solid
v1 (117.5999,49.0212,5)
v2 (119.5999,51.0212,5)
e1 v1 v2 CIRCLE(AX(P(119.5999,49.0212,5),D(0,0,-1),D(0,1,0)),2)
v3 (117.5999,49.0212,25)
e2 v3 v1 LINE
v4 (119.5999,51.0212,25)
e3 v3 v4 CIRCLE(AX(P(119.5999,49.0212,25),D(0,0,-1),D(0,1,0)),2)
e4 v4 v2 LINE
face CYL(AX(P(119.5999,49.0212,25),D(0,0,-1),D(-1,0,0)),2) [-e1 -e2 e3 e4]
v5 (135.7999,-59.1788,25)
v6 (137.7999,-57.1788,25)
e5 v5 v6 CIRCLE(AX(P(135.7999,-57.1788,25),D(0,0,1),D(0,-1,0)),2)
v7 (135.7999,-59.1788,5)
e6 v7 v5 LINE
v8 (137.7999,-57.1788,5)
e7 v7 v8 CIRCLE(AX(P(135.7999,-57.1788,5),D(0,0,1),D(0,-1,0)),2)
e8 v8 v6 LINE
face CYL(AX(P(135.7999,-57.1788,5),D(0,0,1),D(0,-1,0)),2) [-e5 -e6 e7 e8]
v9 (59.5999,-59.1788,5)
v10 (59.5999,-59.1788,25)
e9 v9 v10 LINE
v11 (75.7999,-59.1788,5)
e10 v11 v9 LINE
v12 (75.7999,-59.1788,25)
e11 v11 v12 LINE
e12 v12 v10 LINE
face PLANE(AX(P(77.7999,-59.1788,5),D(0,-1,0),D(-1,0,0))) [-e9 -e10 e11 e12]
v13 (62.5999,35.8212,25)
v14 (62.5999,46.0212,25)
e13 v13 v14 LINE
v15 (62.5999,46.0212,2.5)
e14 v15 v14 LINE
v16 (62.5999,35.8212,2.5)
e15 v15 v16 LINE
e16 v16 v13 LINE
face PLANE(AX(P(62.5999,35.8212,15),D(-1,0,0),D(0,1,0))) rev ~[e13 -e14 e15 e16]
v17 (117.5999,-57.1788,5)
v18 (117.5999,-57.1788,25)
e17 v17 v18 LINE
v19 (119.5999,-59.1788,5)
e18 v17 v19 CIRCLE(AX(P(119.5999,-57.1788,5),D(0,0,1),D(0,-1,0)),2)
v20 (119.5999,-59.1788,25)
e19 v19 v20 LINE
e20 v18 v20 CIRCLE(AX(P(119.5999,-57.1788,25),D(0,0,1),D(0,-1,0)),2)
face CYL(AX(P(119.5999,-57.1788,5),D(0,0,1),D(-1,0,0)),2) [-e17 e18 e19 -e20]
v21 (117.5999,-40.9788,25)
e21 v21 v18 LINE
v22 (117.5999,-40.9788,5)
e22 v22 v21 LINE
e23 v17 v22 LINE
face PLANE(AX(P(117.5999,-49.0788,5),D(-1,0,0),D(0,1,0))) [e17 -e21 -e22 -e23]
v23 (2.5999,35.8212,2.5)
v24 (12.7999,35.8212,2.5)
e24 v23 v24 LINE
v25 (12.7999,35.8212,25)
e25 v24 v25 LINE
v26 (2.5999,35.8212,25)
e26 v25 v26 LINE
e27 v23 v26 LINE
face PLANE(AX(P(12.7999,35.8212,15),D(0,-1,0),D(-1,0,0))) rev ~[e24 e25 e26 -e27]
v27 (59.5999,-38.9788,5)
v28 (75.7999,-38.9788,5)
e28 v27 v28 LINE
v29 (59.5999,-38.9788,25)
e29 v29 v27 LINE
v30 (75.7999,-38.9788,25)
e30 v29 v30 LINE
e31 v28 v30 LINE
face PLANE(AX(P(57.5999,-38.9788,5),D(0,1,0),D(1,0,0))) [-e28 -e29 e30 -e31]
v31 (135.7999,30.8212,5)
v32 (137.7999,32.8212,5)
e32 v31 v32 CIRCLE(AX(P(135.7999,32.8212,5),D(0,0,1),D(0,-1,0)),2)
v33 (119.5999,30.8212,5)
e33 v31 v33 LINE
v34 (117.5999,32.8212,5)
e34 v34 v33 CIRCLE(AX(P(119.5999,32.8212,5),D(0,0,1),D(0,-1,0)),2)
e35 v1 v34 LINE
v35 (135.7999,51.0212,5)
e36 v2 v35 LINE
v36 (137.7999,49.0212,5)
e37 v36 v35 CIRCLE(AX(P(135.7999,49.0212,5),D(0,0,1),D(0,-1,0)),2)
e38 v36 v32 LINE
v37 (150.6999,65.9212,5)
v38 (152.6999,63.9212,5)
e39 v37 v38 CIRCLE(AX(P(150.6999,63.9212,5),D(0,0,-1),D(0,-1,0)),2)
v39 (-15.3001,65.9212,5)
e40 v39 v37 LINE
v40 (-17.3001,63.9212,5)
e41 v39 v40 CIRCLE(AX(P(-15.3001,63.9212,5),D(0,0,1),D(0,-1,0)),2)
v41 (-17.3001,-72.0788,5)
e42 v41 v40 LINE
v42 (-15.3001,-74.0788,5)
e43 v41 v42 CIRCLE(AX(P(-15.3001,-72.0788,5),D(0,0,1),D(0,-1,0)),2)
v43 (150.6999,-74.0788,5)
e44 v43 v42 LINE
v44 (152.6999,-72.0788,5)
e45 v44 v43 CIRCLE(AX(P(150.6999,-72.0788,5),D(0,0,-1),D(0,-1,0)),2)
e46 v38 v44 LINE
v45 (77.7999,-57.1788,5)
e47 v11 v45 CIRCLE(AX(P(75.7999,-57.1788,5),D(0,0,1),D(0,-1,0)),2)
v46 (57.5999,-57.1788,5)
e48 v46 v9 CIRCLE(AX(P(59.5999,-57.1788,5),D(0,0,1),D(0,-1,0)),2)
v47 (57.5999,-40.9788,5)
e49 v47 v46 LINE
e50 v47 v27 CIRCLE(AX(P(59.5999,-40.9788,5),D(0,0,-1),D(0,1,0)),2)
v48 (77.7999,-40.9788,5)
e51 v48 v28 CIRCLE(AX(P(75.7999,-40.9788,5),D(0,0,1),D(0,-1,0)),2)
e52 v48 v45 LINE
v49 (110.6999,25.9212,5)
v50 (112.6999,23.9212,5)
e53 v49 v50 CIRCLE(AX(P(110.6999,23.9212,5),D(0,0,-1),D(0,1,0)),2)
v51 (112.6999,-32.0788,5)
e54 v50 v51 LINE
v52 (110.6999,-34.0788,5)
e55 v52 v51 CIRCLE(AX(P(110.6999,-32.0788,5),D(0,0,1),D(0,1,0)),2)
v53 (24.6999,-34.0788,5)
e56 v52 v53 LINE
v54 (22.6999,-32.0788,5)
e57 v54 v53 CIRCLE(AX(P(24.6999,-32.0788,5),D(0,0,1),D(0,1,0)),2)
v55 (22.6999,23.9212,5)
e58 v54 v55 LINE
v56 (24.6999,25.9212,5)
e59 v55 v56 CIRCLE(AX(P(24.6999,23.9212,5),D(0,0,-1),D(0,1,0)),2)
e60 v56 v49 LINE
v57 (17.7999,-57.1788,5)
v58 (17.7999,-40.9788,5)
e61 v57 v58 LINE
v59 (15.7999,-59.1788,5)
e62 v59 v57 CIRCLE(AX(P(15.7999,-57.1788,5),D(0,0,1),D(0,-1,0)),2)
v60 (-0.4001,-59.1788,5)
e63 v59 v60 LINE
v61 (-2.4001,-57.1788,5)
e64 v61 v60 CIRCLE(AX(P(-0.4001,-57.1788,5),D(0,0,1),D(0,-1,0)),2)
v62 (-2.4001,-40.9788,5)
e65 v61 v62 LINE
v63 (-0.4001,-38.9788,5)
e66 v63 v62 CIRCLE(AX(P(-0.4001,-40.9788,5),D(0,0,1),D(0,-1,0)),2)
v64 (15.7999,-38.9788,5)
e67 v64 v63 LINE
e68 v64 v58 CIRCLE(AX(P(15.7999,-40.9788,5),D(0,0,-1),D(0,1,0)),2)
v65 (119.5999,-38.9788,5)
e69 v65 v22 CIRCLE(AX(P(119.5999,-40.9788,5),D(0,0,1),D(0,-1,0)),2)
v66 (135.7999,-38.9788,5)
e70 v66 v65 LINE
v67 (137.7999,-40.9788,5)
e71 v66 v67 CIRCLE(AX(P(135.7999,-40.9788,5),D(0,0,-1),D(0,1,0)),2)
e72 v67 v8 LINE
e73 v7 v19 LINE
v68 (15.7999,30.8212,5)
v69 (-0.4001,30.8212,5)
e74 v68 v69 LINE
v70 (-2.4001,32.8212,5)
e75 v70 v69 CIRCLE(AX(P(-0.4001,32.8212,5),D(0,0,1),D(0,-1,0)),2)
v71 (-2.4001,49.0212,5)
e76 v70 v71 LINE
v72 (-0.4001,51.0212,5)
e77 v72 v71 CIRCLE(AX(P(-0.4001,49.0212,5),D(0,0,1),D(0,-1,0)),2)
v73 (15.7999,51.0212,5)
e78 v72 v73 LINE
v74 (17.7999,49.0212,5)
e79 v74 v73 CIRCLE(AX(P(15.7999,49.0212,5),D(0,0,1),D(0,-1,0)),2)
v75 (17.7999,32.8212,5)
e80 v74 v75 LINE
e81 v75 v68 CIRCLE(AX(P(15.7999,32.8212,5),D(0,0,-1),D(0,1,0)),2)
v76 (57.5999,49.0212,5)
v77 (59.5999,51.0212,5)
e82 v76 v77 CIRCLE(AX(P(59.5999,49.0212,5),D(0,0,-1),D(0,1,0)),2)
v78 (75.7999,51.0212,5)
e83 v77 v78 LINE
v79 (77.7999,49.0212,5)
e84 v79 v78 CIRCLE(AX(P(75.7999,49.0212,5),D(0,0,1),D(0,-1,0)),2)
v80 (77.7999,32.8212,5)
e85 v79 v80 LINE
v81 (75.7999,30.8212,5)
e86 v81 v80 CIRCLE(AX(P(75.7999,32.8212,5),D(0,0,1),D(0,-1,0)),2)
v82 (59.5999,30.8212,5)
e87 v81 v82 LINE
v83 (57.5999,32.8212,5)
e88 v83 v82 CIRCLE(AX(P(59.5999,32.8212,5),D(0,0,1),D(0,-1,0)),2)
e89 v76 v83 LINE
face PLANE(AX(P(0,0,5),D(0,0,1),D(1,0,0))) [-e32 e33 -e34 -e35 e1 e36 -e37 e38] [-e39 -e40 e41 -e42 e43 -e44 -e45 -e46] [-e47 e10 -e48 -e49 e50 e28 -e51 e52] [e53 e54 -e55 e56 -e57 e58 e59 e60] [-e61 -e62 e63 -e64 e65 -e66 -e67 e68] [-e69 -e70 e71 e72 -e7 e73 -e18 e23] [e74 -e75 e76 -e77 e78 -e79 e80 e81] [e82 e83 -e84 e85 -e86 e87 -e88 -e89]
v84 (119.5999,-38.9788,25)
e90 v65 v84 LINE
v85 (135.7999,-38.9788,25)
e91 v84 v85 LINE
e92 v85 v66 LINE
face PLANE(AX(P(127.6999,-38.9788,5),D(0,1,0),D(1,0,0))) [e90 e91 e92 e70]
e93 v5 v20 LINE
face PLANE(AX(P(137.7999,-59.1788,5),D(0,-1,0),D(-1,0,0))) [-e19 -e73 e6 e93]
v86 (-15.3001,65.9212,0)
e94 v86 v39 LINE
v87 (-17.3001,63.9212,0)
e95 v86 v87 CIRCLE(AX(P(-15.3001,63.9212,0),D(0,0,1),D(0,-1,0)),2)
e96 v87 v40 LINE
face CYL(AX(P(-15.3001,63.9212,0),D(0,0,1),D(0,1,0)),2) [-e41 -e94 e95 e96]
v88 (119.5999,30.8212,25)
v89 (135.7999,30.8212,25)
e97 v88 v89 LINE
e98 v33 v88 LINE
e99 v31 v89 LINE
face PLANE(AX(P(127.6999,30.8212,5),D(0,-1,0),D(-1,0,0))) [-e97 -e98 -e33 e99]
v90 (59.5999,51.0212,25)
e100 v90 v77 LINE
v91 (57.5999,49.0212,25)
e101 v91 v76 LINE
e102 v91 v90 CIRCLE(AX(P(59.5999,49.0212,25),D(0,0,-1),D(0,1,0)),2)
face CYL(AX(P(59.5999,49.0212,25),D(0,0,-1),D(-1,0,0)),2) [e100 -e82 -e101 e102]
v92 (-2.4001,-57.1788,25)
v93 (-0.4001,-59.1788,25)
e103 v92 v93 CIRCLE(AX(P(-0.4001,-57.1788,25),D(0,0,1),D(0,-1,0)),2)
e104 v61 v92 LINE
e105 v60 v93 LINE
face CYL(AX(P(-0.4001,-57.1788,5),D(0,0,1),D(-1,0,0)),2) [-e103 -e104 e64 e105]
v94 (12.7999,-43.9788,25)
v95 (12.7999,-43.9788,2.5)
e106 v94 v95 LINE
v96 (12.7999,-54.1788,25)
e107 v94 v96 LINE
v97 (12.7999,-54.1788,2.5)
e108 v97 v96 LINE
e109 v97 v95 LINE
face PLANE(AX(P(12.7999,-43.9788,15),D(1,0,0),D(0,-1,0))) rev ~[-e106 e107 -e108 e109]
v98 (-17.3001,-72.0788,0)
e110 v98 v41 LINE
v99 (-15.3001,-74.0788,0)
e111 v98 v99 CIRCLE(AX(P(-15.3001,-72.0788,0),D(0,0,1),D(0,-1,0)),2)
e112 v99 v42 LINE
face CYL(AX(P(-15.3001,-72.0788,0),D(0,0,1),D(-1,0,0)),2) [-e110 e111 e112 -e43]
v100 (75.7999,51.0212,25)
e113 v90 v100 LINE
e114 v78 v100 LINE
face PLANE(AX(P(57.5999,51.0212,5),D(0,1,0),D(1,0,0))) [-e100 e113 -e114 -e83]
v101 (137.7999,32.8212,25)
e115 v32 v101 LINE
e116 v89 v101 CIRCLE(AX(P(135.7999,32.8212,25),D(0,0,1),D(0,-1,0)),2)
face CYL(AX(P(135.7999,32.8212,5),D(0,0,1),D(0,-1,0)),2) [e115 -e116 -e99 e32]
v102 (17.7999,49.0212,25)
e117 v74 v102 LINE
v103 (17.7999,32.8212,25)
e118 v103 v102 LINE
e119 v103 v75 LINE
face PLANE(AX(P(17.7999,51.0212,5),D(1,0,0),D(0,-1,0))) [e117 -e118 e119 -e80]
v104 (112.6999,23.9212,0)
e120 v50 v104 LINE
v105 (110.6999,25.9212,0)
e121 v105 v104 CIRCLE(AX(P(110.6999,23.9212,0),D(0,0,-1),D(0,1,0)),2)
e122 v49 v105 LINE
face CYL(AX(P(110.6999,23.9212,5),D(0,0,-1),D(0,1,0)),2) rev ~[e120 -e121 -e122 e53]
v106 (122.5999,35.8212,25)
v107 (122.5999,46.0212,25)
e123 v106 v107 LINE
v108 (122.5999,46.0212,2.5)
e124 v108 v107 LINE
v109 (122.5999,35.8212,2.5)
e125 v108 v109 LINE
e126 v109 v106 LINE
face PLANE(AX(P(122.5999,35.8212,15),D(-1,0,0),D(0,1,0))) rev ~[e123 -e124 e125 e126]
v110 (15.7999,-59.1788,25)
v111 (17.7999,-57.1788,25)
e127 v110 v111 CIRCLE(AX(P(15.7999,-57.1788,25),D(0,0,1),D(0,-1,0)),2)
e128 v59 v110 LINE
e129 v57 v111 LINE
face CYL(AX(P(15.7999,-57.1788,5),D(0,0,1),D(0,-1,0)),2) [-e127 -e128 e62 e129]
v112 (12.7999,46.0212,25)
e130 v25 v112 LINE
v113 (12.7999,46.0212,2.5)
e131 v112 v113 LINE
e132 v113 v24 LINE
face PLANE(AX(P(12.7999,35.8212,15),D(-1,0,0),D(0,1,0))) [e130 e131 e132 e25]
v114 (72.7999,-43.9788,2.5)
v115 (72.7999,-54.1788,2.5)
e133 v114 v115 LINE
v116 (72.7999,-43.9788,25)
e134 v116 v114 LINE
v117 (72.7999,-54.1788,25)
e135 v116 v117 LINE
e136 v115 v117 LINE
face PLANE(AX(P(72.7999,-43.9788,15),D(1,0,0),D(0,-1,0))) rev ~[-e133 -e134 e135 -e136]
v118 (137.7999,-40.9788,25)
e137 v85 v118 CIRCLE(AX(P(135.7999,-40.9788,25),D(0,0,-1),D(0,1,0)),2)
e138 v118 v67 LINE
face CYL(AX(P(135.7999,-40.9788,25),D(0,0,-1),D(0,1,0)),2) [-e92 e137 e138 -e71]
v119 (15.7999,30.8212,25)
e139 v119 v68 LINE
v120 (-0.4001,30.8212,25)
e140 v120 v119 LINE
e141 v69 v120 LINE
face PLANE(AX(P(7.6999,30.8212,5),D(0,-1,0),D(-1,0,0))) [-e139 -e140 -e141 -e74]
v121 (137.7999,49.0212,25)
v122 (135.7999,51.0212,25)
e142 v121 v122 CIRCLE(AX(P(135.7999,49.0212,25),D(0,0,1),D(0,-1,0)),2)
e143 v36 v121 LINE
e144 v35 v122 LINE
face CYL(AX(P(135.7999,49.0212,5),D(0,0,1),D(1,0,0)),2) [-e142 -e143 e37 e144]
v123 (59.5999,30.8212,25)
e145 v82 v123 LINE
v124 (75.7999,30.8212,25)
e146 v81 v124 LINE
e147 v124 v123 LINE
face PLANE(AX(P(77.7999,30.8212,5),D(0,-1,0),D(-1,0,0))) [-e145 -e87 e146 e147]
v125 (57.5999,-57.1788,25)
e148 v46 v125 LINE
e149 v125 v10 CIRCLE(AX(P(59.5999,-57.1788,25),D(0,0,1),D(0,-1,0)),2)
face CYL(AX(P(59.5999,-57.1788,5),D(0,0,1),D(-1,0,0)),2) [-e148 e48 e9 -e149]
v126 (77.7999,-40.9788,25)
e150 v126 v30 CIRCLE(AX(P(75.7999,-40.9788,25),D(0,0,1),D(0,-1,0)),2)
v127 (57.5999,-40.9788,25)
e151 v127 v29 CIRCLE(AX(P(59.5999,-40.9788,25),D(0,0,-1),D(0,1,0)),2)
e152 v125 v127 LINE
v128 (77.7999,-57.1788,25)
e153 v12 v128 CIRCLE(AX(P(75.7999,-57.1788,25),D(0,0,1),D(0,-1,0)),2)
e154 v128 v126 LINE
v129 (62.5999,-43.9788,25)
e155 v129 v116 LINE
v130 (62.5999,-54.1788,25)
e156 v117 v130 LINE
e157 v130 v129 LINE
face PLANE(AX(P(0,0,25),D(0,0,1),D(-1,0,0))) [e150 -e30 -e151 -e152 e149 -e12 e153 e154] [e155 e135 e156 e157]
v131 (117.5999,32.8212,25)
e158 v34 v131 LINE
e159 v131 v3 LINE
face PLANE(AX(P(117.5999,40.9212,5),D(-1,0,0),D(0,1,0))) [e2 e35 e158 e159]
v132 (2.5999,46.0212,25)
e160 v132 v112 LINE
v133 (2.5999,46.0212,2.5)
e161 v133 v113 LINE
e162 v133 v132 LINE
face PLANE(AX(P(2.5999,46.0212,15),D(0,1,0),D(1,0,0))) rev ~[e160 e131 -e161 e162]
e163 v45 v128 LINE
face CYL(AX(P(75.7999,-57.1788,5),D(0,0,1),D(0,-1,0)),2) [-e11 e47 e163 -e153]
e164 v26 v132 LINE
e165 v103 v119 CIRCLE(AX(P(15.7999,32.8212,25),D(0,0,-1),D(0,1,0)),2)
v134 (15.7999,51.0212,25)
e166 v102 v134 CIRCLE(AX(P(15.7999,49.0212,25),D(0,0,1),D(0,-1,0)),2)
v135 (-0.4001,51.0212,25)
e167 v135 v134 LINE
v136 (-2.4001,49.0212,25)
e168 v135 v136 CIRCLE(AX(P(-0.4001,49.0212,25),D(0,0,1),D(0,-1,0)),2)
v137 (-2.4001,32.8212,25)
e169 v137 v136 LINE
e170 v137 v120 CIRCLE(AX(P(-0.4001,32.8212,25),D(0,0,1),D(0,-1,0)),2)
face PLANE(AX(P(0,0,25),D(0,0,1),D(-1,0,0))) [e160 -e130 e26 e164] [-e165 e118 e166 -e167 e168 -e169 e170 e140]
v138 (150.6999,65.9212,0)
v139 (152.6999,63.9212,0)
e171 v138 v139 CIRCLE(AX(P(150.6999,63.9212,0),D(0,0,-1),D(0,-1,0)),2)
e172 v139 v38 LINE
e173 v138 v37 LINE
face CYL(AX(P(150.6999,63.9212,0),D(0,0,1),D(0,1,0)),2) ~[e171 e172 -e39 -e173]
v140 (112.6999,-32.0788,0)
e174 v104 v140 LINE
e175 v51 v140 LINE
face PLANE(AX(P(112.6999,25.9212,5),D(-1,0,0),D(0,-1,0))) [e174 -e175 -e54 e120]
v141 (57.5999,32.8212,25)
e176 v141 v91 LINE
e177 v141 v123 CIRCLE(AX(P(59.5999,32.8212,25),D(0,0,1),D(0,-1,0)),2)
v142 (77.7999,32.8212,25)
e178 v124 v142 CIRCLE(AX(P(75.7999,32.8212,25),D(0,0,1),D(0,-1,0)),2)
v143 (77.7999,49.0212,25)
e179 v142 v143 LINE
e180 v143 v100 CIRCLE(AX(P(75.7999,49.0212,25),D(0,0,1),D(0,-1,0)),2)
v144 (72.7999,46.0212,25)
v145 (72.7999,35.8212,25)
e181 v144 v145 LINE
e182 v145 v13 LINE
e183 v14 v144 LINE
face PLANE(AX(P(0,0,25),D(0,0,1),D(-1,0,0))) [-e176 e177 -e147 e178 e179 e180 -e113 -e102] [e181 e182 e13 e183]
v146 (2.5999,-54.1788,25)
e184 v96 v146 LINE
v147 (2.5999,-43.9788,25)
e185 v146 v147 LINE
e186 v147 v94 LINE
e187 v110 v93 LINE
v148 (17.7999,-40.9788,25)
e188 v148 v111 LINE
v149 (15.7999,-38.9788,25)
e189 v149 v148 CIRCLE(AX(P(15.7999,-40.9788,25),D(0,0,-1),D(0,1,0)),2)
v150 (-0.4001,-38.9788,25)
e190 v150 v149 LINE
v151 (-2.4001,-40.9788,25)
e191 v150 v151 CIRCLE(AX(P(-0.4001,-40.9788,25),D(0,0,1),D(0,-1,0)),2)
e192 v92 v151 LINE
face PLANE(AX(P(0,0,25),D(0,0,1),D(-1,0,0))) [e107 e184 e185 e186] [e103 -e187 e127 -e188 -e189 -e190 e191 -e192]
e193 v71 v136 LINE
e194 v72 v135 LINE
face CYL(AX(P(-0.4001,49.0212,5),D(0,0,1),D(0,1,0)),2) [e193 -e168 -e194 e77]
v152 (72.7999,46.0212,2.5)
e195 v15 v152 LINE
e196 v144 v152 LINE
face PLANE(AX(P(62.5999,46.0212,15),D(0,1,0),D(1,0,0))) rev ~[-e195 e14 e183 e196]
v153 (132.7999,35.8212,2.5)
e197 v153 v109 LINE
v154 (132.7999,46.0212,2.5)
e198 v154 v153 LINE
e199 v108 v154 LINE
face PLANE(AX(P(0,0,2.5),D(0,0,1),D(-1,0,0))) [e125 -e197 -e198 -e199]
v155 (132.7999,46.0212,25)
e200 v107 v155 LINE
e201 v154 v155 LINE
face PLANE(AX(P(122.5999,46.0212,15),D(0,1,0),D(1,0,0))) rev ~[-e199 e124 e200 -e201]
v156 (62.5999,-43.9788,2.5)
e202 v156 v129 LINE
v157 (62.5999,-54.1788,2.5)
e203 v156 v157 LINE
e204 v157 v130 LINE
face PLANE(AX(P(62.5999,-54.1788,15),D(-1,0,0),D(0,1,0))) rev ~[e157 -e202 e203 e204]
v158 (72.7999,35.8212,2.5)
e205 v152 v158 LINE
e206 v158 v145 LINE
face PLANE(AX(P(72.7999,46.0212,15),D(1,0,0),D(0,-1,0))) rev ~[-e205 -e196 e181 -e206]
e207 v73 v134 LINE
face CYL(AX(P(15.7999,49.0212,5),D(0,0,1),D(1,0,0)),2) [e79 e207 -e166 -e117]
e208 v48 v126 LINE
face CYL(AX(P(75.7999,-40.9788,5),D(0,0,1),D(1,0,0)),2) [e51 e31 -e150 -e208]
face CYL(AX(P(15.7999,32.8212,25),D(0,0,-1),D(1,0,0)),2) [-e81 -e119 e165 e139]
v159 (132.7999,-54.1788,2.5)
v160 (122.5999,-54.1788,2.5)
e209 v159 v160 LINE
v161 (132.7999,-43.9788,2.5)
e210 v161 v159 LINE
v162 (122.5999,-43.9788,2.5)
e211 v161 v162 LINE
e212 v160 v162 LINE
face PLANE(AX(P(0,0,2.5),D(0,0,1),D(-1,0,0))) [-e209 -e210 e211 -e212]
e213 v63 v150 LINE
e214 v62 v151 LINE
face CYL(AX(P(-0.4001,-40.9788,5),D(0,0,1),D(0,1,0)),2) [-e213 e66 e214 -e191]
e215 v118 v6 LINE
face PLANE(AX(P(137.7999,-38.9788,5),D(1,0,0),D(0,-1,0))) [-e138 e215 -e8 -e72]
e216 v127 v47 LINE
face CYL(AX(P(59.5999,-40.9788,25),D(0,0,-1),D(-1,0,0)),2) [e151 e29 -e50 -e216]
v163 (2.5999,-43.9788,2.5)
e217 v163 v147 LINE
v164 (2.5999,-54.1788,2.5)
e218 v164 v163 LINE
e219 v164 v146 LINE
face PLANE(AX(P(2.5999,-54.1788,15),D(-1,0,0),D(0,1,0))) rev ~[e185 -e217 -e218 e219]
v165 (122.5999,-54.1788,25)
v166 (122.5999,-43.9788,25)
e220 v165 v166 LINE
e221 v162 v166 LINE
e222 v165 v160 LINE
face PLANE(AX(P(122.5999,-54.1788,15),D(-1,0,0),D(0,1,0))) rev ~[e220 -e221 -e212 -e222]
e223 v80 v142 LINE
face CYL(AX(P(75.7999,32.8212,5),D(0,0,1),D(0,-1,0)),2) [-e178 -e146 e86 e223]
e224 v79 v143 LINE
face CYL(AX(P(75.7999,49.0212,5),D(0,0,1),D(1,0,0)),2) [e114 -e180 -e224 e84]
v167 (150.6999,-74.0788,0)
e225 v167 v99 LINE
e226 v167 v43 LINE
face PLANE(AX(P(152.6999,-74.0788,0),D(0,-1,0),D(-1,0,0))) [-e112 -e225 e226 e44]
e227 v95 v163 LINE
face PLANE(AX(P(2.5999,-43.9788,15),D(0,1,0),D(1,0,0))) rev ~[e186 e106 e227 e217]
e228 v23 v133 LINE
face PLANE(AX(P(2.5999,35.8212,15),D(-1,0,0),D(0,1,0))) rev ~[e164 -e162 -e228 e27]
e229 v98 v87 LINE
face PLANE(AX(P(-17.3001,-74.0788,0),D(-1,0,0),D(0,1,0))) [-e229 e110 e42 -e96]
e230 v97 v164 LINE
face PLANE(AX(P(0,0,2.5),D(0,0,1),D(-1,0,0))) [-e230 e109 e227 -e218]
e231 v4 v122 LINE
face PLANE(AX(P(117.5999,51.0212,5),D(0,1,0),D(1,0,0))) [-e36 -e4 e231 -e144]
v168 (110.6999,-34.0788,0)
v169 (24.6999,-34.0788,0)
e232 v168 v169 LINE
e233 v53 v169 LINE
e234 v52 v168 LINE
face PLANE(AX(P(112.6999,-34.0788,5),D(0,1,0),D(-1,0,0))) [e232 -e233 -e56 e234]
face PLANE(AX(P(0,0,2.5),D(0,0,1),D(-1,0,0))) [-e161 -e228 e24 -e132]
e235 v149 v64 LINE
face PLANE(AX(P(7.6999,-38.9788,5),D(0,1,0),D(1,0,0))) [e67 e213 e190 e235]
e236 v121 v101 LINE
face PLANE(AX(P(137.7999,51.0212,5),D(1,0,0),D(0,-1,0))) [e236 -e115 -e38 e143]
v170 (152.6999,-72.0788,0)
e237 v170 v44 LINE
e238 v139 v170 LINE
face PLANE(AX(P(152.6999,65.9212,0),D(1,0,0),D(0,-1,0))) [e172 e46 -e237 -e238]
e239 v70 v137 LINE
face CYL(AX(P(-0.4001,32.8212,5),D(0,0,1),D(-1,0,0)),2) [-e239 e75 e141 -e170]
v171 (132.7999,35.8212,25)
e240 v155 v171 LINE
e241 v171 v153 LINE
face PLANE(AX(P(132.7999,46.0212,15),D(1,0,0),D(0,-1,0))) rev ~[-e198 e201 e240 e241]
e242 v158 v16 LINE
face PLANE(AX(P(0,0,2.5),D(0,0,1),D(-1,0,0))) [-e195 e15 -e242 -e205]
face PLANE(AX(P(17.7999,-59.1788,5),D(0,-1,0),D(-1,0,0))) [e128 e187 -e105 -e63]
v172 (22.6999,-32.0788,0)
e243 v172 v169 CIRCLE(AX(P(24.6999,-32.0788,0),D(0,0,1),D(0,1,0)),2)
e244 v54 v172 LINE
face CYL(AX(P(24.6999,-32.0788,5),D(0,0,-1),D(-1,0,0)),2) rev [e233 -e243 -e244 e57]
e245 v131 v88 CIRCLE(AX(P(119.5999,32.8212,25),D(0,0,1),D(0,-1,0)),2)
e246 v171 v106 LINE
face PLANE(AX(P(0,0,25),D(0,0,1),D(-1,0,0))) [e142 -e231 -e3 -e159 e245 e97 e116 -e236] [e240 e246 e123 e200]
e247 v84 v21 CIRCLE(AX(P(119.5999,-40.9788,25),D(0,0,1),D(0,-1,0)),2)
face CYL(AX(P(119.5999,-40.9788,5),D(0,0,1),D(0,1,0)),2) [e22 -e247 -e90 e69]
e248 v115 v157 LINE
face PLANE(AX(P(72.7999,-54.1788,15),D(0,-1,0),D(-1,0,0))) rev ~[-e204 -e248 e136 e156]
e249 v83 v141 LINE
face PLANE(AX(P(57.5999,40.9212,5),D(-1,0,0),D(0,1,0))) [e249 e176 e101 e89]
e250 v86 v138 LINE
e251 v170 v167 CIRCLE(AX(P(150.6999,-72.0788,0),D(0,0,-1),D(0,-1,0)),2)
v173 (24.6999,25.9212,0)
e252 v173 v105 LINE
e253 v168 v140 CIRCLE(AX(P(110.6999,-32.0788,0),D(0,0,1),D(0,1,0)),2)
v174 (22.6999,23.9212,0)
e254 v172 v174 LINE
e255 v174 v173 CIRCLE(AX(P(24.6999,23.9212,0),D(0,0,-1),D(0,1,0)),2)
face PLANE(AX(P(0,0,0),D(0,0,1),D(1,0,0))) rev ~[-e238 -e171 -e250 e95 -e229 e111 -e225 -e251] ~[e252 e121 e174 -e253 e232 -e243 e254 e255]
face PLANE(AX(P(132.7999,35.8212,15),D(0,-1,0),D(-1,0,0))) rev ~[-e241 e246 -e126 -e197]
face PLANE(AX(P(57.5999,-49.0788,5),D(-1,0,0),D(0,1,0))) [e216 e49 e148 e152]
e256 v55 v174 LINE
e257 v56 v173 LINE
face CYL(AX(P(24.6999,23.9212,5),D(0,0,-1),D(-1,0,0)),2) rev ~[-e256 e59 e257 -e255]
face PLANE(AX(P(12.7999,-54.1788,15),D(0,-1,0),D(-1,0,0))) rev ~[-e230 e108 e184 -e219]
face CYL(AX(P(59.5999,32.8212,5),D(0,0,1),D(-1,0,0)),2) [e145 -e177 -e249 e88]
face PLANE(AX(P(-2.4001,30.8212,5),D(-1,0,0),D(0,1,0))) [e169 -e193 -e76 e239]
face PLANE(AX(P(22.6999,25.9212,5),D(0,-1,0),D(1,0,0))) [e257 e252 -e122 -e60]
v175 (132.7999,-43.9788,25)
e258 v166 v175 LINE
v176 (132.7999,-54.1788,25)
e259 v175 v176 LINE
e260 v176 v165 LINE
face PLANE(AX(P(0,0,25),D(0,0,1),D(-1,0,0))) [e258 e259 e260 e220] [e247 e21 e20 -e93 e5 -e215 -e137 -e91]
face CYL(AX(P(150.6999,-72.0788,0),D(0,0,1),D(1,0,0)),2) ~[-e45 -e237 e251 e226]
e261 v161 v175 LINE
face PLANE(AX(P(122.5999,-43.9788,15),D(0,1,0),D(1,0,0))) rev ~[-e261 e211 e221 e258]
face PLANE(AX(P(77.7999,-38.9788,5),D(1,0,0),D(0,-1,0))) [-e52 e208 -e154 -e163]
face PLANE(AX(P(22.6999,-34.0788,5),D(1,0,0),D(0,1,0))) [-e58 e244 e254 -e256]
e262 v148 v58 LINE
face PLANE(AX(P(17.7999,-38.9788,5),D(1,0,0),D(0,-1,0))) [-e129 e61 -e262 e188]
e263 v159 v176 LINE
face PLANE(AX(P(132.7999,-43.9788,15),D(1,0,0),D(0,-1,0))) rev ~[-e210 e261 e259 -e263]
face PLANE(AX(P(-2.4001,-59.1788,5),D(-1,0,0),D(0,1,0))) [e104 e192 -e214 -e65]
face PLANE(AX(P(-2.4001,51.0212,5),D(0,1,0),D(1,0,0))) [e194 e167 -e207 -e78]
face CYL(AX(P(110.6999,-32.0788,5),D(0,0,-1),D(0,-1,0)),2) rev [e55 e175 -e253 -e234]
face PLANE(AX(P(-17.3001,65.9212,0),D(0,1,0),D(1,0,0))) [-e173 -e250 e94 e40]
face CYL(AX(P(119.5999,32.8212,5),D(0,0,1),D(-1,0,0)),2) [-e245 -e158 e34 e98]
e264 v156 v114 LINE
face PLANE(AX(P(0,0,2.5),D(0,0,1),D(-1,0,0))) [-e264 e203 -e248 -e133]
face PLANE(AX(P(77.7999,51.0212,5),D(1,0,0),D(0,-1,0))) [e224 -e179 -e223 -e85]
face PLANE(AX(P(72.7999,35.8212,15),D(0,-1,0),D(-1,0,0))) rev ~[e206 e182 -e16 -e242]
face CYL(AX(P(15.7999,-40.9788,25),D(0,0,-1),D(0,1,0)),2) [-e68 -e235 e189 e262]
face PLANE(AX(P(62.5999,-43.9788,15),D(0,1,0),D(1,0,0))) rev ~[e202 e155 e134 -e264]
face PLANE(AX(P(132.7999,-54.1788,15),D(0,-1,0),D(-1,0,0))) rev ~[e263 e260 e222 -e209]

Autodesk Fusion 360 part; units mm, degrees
sketch "Sketch1" plane through (0, 0, 0) normal (0, 0, 1) x (1, 0, 0)
  line L0 (-17.3001, 65.9212) -> (152.6999, 65.9212)
  line L1 (152.6999, 65.9212) -> (152.6999, -74.0788)
  line L2 (152.6999, -74.0788) -> (-17.3001, -74.0788)
  line L3 (-17.3001, -74.0788) -> (-17.3001, 65.9212)
  dimension "d1" = 140
  dimension "d2" = 170
extrude "Extrude1" add sketch "Sketch1" along normal blind 5
sketch "Sketch10" plane through (0, 0, 5) normal (0, 0, 1) x (-1, 0, 0)
  line L0 (17.3001, 74.0788) -> (-152.6999, 74.0788)
  line L1 (-152.6999, 74.0788) -> (-152.6999, -65.9212)
  line L2 (-152.6999, -65.9212) -> (17.3001, -65.9212)
  line L3 (17.3001, -65.9212) -> (17.3001, 74.0788)
  line L4 (-7.6999, -40.9212) -> (-127.6999, -40.9212)
  line L5 (-127.6999, -40.9212) -> (-127.6999, 49.0788)
  line L6 (-127.6999, 49.0788) -> (-7.6999, 49.0788)
  line L7 (-7.6999, 49.0788) -> (-7.6999, -40.9212)
  line L8 (17.3001, -65.9212) -> (-152.6999, -65.9212)
  line L9 (-152.6999, 74.0788) -> (17.3001, 74.0788)
  line L10 (17.3001, 74.0788) -> (17.3001, -65.9212)
  line L11 (-152.6999, -65.9212) -> (-152.6999, 74.0788)
  line L12 (-2.5999, -46.0212) -> (-12.7999, -46.0212)
  line L13 (-12.7999, -46.0212) -> (-12.7999, -35.8212)
  line L14 (-12.7999, -35.8212) -> (-2.5999, -35.8212)
  line L15 (-2.5999, -35.8212) -> (-2.5999, -46.0212)
  line L16 (-122.5999, -46.0212) -> (-132.7999, -46.0212)
  line L17 (-132.7999, -46.0212) -> (-132.7999, -35.8212)
  line L18 (-132.7999, -35.8212) -> (-122.5999, -35.8212)
  line L19 (-122.5999, -35.8212) -> (-122.5999, -46.0212)
  line L20 (-62.5999, -46.0212) -> (-72.7999, -46.0212)
  line L21 (-72.7999, -46.0212) -> (-72.7999, -35.8212)
  line L22 (-72.7999, -35.8212) -> (-62.5999, -35.8212)
  line L23 (-62.5999, -35.8212) -> (-62.5999, -46.0212)
  line L24 (-2.5999, 43.9788) -> (-12.7999, 43.9788)
  line L25 (-12.7999, 43.9788) -> (-12.7999, 54.1788)
  line L26 (-12.7999, 54.1788) -> (-2.5999, 54.1788)
  line L27 (-2.5999, 54.1788) -> (-2.5999, 43.9788)
  line L28 (-122.5999, 43.9788) -> (-132.7999, 43.9788)
  line L29 (-132.7999, 43.9788) -> (-132.7999, 54.1788)
  line L30 (-132.7999, 54.1788) -> (-122.5999, 54.1788)
  line L31 (-122.5999, 54.1788) -> (-122.5999, 43.9788)
  line L32 (-62.5999, 43.9788) -> (-72.7999, 43.9788)
  line L33 (-72.7999, 43.9788) -> (-72.7999, 54.1788)
  line L34 (-72.7999, 54.1788) -> (-62.5999, 54.1788)
  line L35 (-62.5999, 54.1788) -> (-62.5999, 43.9788)
  line L36 (-22.6999, -25.9212) -> (-112.6999, -25.9212)
  line L37 (-112.6999, -25.9212) -> (-112.6999, 34.0788)
  line L38 (-112.6999, 34.0788) -> (-22.6999, 34.0788)
  line L39 (-22.6999, 34.0788) -> (-22.6999, -25.9212)
  line L40 (2.4001, -51.0212) -> (-17.7999, -51.0212)
  line L41 (-17.7999, -51.0212) -> (-17.7999, -30.8212)
  line L42 (-17.7999, -30.8212) -> (2.4001, -30.8212)
  line L43 (2.4001, -30.8212) -> (2.4001, -51.0212)
  line L44 (-57.5999, -51.0212) -> (-77.7999, -51.0212)
  line L45 (-77.7999, -51.0212) -> (-77.7999, -30.8212)
  line L46 (-77.7999, -30.8212) -> (-57.5999, -30.8212)
  line L47 (-57.5999, -30.8212) -> (-57.5999, -51.0212)
  line L48 (-117.5999, -51.0212) -> (-137.7999, -51.0212)
  line L49 (-137.7999, -51.0212) -> (-137.7999, -30.8212)
  line L50 (-137.7999, -30.8212) -> (-117.5999, -30.8212)
  line L51 (-117.5999, -30.8212) -> (-117.5999, -51.0212)
  line L52 (-117.5999, 38.9788) -> (-137.7999, 38.9788)
  line L53 (-137.7999, 38.9788) -> (-137.7999, 59.1788)
  line L54 (-137.7999, 59.1788) -> (-117.5999, 59.1788)
  line L55 (-117.5999, 59.1788) -> (-117.5999, 38.9788)
  line L56 (-57.5999, 38.9788) -> (-77.7999, 38.9788)
  line L57 (-77.7999, 38.9788) -> (-77.7999, 59.1788)
  line L58 (-77.7999, 59.1788) -> (-57.5999, 59.1788)
  line L59 (-57.5999, 59.1788) -> (-57.5999, 38.9788)
  line L60 (2.4001, 38.9788) -> (-17.7999, 38.9788)
  line L61 (-17.7999, 38.9788) -> (-17.7999, 59.1788)
  line L62 (-17.7999, 59.1788) -> (2.4001, 59.1788)
  line L63 (2.4001, 59.1788) -> (2.4001, 38.9788)
  dimension "d65" = 25
  dimension "d66" = 25
  dimension "d67" = 25
  dimension "d68" = 25
  dimension "d69" = 5.1
  dimension "d70" = 5.1
  dimension "d71" = 5.1
  dimension "d72" = 5.1
  dimension "d73" = 5.1
  dimension "d74" = 5.1
  dimension "d75" = 5.1
  dimension "d76" = 5.1
  dimension "d77" = 109.8
  dimension "d78" = 19.9
  dimension "d79" = 19.9
  dimension "d80" = 49.8
  dimension "d81" = 49.8
  dimension "d82" = 5.1
  dimension "d83" = 5.1
  dimension "d84" = 5.1
  dimension "d85" = 5.1
  dimension "d86" = 5.1
  dimension "d87" = 5.1
  dimension "d88" = 5.1
  dimension "d89" = 5.1
  dimension "d90" = 5.1
  dimension "d91" = 5.1
  dimension "d92" = 49.8
  dimension "d93" = 49.8
  dimension "d94" = 5.1
  dimension "d95" = 5.1
  dimension "d96" = 15
  dimension "d97" = 15
  dimension "d98" = 15
  dimension "d99" = 15
  dimension "d100" = 5
  dimension "d101" = 5
  dimension "d102" = 5
  dimension "d103" = 5
  dimension "d104" = 5
  dimension "d105" = 5
  dimension "d106" = 5
  dimension "d107" = 5
  dimension "d108" = 5
  dimension "d109" = 5
  dimension "d110" = 5
  dimension "d111" = 5
  dimension "d112" = 5
  dimension "d113" = 5
  dimension "d114" = 5
  dimension "d115" = 5
  dimension "d116" = 5
  dimension "d117" = 5
  dimension "d118" = 5
  dimension "d119" = 5
  dimension "d120" = 5
  dimension "d121" = 5
  dimension "d122" = 5
  dimension "d123" = 5
extrude "Extrude8" cut sketch "Sketch10" against normal blind 5 contours L36 L37 L38 L39
extrude "Extrude9" cut sketch "Sketch10" against normal blind 2.5 contours L4 L7 L12 L13 L14 L15 | L4 L7 L13 L14 | L4 L20 L21 L23 | L4 L21 L22 L23 | L6 L7 L24 L25 | L6 L7 L24 L25 L26 L27 | L6 L32 L33 L35 | L6 L33 L34 L35 | L4 L5 L16 L17 L18 L19 | L4 L5 L18 L19 | L5 L6 L28 L29 L30 L31 | L5 L6 L28 L31
extrude "Extrude10" add sketch "Sketch10" along normal blind 10 contours L4 L7 L12 L13 L14 L15 L40 L41 L42 L43 | L4 L7 L13 L14 L41 L42 | L4 L20 L21 L23 L44 L45 L47 | L4 L21 L22 L23 L45 L46 L47 | L6 L7 L24 L25 L60 L61 | L6 L7 L24 L25 L26 L27 L60 L61 L62 L63 | L6 L32 L33 L35 L56 L57 L59 | L6 L33 L34 L35 L57 L58 L59 | L4 L5 L16 L17 L18 L19 L48 L49 L50 L51 | L4 L5 L18 L19 L50 L51 | L5 L6 L28 L29 L30 L31 L52 L53 L54 L55 | L5 L6 L28 L31 L52 L55
fillet "Fillet1" radius 2 4 edges at (152.6999, -74.0788, 2.5) (152.6999, 65.9212, 2.5) (-17.3001, 65.9212, 2.5) (-17.3001, -74.0788, 2.5)
extrude "Extrude11" add 6 faces at (5.9999, 49.3545, 15) (76.1332, 39.2212, 15) (136.1332, 39.2212, 15) (136.1332, -50.7788, 15) (76.1332, -50.7788, 15) (5.9999, -40.6455, 15) along direction (0, 0, 1) blind 10
fillet "Fillet2" radius 2 24 edges at (17.7999, 30.8212, 15) (-2.4001, 30.8212, 15) (57.5999, 30.8212, 15) (77.7999, 30.8212, 15) (117.5999, 30.8212, 15) (137.7999, 30.8212, 15) (57.5999, -59.1788, 15) (77.7999, -59.1788, 15) (17.7999, -59.1788, 15) (-2.4001, -59.1788, 15) (-2.4001, -38.9788, 15) (-2.4001, 51.0212, 15) (57.5999, 51.0212, 15) (117.5999, 51.0212, 15) (117.5999, -38.9788, 15) (117.5999, -59.1788, 15) (57.5999, -38.9788, 15) (77.7999, -38.9788, 15) (137.7999, -59.1788, 15) (137.7999, -38.9788, 15) (77.7999, 51.0212, 15) (137.7999, 51.0212, 15) (17.7999, 51.0212, 15) (17.7999, -38.9788, 15)
fillet "Fillet3" radius 2 4 edges at (22.6999, 25.9212, 2.5) (22.6999, -34.0788, 2.5) (112.6999, -34.0788, 2.5) (112.6999, 25.9212, 2.5)
